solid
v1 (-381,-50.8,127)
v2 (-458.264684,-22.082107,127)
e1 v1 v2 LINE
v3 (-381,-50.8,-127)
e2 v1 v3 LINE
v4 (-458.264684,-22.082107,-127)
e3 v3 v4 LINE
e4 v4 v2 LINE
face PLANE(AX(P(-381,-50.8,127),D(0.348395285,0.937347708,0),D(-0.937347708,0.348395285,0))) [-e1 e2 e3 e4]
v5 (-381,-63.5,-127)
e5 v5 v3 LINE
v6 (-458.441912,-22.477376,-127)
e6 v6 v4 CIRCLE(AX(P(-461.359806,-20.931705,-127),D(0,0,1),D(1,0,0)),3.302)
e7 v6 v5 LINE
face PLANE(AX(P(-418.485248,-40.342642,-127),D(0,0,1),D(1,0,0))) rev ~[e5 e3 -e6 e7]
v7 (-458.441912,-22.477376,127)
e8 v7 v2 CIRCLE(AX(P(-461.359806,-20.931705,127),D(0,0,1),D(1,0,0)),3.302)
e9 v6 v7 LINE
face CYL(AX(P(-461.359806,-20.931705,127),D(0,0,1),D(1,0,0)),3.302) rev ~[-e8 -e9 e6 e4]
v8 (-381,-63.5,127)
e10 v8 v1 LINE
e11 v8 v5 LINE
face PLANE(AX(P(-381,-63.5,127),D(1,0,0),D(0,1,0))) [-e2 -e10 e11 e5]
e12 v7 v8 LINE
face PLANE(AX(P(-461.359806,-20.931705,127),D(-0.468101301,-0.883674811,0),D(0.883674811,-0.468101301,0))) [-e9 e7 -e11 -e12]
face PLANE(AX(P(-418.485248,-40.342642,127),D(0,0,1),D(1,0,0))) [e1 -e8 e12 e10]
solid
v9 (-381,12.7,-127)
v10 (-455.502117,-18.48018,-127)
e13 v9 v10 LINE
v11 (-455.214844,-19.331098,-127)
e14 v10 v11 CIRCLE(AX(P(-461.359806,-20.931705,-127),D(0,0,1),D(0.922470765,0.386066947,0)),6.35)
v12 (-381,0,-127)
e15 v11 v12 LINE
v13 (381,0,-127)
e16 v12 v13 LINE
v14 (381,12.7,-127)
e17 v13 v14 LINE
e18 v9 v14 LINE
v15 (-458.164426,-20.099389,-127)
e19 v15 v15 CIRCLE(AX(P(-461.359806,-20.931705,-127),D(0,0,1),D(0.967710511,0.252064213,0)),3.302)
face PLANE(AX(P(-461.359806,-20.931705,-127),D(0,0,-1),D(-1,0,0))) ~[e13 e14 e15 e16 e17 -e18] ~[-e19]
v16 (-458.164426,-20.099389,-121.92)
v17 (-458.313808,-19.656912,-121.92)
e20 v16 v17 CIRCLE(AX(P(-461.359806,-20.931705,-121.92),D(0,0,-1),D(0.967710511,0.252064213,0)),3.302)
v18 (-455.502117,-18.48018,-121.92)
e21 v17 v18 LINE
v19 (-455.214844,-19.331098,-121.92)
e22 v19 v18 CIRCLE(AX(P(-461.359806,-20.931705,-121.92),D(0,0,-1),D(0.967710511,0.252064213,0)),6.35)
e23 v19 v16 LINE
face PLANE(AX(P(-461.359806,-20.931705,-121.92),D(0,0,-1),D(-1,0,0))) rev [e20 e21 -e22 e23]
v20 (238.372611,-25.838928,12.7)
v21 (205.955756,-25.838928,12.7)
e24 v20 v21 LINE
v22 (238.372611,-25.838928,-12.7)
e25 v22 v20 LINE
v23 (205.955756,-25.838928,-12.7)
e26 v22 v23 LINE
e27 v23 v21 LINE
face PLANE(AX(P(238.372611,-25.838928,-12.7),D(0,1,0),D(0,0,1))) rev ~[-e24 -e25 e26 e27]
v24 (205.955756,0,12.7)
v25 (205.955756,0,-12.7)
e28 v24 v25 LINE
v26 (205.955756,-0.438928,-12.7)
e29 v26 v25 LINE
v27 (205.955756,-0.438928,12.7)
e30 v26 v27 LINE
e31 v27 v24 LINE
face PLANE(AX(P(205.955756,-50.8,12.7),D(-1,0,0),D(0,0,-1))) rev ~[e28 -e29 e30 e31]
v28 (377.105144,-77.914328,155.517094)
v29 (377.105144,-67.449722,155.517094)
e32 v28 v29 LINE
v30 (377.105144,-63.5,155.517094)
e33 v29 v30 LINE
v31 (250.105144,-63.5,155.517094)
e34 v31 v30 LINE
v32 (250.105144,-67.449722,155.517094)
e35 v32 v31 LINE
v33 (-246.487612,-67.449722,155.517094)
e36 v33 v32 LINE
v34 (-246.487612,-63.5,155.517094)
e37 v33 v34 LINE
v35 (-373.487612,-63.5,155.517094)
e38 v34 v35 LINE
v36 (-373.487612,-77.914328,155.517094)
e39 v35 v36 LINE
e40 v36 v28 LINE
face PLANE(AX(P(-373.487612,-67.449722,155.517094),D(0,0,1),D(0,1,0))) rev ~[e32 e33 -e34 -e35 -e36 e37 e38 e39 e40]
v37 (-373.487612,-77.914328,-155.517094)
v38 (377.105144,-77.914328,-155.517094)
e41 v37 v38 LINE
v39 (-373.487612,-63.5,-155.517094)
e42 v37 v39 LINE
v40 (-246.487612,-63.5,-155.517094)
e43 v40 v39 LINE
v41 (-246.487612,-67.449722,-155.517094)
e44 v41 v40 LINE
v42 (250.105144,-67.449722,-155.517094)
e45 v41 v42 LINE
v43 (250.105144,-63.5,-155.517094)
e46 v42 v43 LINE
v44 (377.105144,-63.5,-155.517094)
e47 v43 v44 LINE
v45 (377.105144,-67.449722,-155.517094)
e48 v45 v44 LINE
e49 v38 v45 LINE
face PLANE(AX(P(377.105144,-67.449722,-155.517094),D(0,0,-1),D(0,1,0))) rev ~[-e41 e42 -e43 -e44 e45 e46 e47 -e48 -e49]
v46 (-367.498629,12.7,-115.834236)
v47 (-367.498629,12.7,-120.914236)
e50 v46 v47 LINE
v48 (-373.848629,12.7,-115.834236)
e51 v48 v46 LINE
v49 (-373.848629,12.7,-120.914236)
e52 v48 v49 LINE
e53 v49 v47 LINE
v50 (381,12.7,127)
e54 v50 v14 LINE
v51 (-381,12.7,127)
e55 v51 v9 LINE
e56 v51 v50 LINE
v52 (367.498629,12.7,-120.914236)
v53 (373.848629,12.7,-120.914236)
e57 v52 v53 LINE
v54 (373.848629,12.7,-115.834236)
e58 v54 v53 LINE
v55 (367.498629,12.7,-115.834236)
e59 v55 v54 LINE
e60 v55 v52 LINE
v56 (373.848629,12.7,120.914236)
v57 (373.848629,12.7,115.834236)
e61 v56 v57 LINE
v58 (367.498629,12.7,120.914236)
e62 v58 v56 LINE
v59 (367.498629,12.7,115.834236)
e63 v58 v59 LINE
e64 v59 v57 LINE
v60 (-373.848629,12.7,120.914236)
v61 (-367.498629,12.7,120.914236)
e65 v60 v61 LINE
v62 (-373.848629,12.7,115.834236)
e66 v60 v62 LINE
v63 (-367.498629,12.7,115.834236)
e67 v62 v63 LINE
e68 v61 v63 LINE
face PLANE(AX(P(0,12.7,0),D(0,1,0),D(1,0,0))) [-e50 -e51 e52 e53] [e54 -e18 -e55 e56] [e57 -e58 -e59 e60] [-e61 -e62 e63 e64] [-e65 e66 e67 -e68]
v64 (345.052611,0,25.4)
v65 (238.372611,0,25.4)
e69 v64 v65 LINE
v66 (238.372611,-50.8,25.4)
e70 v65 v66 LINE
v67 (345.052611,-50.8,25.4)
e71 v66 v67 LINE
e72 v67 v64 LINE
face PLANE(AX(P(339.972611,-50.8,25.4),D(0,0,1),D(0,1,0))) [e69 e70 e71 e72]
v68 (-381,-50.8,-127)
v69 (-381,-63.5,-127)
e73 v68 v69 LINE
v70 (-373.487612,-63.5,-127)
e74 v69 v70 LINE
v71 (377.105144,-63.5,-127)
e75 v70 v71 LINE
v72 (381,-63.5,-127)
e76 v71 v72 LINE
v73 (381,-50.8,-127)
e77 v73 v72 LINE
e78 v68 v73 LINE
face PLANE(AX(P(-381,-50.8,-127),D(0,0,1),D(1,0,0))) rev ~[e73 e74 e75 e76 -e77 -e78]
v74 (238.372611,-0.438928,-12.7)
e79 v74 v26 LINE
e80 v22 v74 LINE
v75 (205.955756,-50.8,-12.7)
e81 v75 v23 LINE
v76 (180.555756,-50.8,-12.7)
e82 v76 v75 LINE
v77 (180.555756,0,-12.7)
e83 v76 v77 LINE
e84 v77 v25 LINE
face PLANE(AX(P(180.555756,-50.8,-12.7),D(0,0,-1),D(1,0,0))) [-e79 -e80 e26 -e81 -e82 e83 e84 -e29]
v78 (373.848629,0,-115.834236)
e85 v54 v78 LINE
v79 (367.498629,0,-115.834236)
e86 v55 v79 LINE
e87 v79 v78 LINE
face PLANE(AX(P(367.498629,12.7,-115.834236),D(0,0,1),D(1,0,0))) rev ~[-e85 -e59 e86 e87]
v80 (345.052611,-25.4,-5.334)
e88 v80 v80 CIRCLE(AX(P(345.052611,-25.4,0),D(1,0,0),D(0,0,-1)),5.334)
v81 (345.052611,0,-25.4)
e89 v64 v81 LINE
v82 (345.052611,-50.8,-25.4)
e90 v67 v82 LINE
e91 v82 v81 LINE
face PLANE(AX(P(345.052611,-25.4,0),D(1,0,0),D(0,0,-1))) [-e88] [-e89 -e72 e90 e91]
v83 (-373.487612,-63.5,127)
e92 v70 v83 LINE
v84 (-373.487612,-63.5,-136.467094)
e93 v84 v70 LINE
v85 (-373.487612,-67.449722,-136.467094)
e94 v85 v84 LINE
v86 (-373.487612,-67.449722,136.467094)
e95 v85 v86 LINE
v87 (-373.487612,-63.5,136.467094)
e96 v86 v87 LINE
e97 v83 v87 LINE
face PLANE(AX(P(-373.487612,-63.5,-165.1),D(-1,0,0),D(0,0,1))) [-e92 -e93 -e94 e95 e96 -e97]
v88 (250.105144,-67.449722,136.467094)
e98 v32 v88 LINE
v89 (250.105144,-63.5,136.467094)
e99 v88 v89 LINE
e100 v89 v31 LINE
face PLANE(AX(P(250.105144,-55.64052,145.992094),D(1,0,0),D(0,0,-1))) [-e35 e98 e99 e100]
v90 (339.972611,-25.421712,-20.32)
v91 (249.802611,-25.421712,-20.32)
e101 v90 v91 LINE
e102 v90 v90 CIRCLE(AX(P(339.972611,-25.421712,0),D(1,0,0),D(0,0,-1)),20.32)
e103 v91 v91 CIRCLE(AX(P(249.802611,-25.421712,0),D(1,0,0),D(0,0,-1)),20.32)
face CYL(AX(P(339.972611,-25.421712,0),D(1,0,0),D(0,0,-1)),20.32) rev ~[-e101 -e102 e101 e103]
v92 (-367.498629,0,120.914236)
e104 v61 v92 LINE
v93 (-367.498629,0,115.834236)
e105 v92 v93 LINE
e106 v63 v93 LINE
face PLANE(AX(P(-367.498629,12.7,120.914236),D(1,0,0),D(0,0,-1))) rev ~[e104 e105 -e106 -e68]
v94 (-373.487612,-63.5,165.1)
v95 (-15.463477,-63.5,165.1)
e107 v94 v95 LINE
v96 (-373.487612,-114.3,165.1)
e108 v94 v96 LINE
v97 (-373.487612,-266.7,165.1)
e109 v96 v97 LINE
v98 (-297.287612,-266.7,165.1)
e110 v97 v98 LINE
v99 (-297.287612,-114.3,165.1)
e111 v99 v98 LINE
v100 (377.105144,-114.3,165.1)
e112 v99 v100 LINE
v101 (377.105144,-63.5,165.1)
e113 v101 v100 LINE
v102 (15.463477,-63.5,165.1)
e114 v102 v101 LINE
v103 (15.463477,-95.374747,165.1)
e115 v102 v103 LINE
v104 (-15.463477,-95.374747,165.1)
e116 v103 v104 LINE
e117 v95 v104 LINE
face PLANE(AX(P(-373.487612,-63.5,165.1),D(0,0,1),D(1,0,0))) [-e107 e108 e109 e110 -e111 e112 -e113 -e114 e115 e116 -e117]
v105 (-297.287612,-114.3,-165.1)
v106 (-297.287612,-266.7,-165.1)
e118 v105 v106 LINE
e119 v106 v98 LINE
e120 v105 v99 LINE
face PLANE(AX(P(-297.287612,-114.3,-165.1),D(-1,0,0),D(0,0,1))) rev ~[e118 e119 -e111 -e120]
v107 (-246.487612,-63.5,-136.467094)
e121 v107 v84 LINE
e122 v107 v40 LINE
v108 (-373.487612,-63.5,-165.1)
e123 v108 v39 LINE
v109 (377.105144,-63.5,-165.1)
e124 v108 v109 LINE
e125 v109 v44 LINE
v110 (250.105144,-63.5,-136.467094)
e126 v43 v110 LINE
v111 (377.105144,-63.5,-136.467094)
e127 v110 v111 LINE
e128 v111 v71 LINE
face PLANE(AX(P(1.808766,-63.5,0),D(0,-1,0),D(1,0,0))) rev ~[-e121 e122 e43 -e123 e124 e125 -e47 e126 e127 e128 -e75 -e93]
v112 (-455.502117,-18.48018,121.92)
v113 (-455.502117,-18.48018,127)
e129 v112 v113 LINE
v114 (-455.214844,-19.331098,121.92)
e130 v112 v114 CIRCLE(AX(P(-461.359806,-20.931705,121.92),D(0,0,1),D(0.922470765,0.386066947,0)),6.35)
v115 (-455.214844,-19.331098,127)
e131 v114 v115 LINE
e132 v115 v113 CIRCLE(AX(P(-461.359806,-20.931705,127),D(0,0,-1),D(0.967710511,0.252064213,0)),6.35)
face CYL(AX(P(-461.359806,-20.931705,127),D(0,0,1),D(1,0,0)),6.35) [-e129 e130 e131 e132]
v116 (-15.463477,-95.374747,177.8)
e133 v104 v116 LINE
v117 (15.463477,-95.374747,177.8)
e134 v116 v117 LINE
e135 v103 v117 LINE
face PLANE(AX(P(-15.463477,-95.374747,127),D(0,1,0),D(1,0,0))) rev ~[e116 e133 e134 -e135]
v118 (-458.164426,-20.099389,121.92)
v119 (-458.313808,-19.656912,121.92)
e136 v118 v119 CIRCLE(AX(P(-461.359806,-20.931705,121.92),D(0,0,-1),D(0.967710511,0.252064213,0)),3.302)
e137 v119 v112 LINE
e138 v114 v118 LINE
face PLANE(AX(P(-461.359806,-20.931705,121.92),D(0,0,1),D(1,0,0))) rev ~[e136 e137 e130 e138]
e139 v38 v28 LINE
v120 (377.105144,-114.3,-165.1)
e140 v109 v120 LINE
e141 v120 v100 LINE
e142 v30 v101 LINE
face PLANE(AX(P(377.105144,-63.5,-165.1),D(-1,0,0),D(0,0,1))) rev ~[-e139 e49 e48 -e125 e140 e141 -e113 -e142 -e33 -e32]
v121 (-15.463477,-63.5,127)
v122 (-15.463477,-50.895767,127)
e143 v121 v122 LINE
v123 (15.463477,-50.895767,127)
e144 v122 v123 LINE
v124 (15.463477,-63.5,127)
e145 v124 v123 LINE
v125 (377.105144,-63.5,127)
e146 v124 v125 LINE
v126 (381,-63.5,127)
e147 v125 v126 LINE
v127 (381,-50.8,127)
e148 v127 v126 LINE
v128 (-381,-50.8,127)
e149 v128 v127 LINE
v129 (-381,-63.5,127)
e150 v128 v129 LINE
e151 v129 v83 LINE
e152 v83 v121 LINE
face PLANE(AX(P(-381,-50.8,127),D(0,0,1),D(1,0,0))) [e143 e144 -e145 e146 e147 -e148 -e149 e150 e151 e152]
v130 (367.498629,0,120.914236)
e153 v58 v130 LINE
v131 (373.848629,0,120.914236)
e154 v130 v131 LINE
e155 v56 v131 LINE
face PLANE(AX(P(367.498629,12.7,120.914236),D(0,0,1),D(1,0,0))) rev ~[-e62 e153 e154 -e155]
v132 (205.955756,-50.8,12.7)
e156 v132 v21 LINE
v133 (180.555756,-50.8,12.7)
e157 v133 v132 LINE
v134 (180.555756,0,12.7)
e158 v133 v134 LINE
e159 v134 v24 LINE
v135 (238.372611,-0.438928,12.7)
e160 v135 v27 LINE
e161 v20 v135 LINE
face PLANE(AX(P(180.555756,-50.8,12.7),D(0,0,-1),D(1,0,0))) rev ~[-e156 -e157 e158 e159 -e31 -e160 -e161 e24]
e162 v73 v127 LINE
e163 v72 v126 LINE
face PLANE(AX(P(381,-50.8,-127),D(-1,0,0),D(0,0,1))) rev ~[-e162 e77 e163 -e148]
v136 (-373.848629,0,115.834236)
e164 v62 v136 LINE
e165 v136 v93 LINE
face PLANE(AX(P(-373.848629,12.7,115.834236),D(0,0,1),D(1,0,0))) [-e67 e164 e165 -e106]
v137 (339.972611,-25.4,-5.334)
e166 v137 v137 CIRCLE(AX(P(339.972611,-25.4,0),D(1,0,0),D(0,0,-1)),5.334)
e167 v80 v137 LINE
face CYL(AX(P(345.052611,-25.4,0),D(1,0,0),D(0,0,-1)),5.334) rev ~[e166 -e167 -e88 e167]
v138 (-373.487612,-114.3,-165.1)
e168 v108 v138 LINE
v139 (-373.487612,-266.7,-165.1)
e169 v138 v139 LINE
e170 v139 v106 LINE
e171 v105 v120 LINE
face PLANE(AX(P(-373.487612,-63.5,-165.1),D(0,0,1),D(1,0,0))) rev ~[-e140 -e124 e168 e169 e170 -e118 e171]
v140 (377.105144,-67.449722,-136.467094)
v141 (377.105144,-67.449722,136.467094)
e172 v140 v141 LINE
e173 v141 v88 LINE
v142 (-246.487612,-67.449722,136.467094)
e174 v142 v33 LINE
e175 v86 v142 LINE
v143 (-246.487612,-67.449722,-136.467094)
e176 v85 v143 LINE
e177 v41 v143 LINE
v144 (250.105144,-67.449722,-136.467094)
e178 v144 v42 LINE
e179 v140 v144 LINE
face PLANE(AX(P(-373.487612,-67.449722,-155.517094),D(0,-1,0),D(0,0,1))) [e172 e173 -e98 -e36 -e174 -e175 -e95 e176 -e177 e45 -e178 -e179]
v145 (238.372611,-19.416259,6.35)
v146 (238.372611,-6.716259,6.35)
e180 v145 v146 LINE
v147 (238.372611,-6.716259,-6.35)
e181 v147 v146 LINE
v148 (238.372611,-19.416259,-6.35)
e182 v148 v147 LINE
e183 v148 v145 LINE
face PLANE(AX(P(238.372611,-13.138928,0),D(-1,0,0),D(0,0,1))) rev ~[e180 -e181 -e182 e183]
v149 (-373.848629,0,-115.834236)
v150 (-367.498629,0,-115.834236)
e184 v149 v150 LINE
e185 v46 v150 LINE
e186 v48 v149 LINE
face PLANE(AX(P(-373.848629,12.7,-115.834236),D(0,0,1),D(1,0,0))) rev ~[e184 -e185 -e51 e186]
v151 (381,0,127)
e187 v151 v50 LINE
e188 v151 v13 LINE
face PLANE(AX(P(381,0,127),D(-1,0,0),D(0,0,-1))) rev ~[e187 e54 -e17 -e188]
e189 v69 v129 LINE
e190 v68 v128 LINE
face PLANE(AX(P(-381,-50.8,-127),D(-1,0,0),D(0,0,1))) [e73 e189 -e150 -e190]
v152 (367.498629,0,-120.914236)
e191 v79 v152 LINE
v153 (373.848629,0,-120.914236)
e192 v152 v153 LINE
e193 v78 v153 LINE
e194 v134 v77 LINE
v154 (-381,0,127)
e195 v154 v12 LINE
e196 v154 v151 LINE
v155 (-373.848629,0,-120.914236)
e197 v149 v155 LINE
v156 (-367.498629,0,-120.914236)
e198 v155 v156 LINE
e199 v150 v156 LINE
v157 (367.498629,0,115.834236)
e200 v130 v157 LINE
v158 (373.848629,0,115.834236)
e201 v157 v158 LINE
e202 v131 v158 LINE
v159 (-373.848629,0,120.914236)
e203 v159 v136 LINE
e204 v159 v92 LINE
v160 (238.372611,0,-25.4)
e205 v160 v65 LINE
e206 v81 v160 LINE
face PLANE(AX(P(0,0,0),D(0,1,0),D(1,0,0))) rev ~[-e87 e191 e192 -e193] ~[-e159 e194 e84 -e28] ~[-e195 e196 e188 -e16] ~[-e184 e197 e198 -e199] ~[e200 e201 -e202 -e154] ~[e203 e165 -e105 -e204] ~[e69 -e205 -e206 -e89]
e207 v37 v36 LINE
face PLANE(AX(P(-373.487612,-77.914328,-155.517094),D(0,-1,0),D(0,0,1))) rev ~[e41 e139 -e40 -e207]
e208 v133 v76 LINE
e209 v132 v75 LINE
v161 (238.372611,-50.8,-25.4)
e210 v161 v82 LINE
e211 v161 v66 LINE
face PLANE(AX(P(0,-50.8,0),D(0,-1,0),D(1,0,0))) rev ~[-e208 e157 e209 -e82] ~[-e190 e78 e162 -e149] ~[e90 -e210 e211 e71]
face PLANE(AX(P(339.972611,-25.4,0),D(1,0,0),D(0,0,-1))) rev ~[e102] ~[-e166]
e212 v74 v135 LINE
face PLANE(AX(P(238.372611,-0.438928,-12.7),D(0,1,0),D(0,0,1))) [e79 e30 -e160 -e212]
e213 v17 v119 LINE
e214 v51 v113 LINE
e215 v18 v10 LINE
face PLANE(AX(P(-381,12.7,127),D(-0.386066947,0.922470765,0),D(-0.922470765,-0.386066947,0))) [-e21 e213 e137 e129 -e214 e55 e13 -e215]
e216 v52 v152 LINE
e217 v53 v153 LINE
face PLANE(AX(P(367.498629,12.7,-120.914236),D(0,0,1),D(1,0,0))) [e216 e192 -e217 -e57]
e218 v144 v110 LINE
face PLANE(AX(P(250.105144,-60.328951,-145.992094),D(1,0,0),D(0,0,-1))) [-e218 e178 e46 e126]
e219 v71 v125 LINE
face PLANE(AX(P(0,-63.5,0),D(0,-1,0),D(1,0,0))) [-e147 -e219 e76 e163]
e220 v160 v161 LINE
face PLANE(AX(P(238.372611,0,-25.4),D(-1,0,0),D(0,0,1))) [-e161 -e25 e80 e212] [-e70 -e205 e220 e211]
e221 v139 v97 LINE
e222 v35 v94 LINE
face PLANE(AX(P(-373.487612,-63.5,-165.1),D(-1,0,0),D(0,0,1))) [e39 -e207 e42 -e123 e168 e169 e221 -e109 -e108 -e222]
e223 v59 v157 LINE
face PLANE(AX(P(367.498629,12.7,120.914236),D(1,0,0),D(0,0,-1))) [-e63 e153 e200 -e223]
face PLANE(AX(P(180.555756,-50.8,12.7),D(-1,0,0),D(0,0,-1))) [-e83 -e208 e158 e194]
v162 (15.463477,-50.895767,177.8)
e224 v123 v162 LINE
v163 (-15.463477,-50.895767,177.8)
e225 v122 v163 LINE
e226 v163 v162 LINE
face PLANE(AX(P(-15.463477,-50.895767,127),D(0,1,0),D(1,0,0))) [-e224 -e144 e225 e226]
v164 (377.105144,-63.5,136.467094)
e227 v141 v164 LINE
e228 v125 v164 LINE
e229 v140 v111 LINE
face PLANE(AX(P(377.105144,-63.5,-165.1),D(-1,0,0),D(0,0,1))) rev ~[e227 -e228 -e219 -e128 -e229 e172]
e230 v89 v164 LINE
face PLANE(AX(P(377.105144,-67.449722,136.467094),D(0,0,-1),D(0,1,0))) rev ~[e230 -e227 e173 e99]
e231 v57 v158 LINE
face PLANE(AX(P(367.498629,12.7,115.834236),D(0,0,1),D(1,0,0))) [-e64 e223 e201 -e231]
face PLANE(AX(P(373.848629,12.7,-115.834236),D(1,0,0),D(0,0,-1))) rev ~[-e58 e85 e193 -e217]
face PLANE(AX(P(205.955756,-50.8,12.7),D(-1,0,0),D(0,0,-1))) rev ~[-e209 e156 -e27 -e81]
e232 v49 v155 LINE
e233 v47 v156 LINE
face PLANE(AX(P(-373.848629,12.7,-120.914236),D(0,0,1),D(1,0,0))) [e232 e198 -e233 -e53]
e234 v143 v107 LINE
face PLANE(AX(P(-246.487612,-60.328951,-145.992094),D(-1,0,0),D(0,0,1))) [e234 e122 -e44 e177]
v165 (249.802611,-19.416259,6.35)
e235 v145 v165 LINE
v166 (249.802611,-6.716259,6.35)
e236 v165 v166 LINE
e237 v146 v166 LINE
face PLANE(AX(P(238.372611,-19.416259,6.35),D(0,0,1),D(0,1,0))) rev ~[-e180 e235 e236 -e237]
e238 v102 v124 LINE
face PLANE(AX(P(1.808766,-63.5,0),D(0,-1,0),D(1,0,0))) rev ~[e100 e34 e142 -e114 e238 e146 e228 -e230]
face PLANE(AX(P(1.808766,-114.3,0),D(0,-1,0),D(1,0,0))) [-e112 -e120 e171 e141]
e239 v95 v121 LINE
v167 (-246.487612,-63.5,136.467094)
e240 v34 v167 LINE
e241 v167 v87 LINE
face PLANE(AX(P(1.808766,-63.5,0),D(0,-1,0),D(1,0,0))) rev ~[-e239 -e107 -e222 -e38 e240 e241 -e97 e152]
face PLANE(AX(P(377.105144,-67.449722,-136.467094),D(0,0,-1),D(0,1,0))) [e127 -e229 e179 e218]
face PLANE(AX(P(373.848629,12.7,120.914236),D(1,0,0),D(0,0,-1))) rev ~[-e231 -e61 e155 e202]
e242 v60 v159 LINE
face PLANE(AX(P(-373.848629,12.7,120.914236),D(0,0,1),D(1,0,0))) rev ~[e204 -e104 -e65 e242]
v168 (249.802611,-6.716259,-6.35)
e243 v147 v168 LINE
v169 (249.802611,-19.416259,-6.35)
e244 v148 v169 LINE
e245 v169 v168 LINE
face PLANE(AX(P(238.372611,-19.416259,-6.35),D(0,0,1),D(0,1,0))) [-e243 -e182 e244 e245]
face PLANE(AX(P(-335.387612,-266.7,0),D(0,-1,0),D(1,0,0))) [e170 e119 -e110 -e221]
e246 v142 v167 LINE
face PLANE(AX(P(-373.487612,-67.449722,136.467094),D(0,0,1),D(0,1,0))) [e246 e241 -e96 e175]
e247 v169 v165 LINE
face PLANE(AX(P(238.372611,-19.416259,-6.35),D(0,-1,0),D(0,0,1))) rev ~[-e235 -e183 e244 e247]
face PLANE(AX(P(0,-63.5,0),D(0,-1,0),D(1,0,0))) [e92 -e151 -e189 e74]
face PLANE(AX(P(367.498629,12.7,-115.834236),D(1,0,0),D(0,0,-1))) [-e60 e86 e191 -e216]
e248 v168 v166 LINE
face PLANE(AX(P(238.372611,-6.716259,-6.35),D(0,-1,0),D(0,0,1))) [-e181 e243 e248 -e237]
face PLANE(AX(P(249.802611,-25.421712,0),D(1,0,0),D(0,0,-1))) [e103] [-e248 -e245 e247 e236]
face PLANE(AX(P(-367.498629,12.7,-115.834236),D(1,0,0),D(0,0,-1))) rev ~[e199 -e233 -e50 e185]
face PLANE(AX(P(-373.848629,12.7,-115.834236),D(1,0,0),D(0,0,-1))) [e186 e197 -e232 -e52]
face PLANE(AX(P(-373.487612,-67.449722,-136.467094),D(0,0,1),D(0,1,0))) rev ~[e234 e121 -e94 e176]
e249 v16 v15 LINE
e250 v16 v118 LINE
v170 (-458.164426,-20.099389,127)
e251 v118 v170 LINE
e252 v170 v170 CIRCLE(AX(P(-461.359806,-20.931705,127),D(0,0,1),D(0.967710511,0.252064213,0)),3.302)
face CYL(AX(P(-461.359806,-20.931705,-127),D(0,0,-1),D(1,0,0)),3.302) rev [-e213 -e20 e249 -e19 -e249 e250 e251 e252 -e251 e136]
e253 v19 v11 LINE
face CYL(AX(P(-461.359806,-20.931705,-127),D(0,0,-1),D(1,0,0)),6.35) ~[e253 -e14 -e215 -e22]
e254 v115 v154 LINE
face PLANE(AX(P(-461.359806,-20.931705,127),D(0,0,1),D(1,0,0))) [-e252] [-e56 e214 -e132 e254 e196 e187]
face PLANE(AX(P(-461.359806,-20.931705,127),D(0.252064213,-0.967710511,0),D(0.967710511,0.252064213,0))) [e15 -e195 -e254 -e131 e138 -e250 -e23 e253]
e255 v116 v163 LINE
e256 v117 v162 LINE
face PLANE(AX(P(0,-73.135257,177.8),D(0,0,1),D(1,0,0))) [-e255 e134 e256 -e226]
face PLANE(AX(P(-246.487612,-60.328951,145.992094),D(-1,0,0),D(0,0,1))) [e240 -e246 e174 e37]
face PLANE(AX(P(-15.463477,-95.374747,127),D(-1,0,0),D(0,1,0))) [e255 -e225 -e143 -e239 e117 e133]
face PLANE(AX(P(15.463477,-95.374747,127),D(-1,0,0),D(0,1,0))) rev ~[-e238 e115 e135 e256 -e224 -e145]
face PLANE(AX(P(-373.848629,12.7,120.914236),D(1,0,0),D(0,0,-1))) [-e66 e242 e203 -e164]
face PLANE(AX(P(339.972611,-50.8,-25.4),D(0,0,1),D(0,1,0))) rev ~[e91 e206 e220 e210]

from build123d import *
from build123d.topology import SkipClean

# Parameters (mm, degrees)
SKETCH1_W            = 762
SKETCH1_H            = 254
BOSS_EXTRUDE1_DEPTH  = 12.7
BOSS_EXTRUDE2_DEPTH  = 254
SKETCH9_W            = 6.35
SKETCH9_H            = 5.08
CUT_EXTRUDE1_DEPTH   = 480.700909137
SKETCH5_R            = 6.35
SKETCH5_R_2          = 3.302
BOSS_EXTRUDE8_DEPTH  = 5.08
SKETCH13_W           = 101.6
SKETCH13_H           = 50.8
BOSS_EXTRUDE10_DEPTH = 50.8
SKETCH15_R           = 20.32
CUT_EXTRUDE3_DEPTH   = 90.17
SKETCH16_W           = 50.8
SKETCH16_H           = 50.8
BOSS_EXTRUDE11_DEPTH = 5.08
CUT_EXTRUDE4_REACH   = 826.192
SKETCH17_R           = 5.334
CUT_EXTRUDE6_REACH   = 721.209
SKETCH19_W           = 12.7
SKETCH19_H           = 12.7
SKETCH20_W           = 762
SKETCH20_H           = 254
BOSS_EXTRUDE12_DEPTH = 12.7
BOSS_EXTRUDE15_DEPTH = 254
SKETCH23_R           = 3.302
CUT_EXTRUDE7_DEPTH   = 537.004396119
SKETCH24_W           = 750.592755811
SKETCH24_H           = 330.2
BOSS_EXTRUDE16_DEPTH = 50.8
SKETCH28_W           = 76.2
SKETCH28_H           = 330.2
BOSS_EXTRUDE17_DEPTH = 152.4
BOSS_EXTRUDE9_START  = -5.08
SKETCH12_R           = 6.35
SKETCH12_R_2         = 3.302
BOSS_EXTRUDE9_DEPTH  = 5.08
SKETCH29_W           = 25.4
SKETCH29_H           = 25.4
BOSS_EXTRUDE18_DEPTH = 50.8
SKETCH30_W           = 25.4
SKETCH30_H           = 25.4
BOSS_EXTRUDE19_DEPTH = 50.8
SKETCH31_W           = 30.926953994
SKETCH31_H           = 44.4789806
BOSS_EXTRUDE20_DEPTH = 50.8
SKETCH25_W           = 311.03418717
SKETCH25_H           = 10.464606508
CUT_EXTRUDE8_DEPTH   = 820.751966299
SKETCH32_W           = 19.05
SKETCH32_H           = 14.241541755
CUT_EXTRUDE9_DEPTH   = 127
SKETCH33_W           = 19.05
SKETCH33_H           = 23.618402859
SKETCH33_H_2         = 14.241541755
CUT_EXTRUDE10_DEPTH  = 127


with BuildPart() as part:
    # Sketch1 → Boss-Extrude1 (new body)
    with BuildSketch(Plane(origin=(0, 0, 0), x_dir=(1, 0, 0), z_dir=(0, 1, 0))):
        Rectangle(SKETCH1_W, SKETCH1_H)
    extrude(amount=BOSS_EXTRUDE1_DEPTH)

    # Sketch2 → Boss-Extrude2 (add)
    with BuildSketch(Plane.XY.offset(127)):
        Polygon((-381, 12.7), (-461.359806033, -20.931705337), (-381, 0), align=None)
    extrude(amount=-BOSS_EXTRUDE2_DEPTH)

    # Sketch9 → Cut-Extrude1 (cut, through all)
    with BuildSketch(Plane(origin=(0, 12.7, 0), x_dir=(1, 0, 0), z_dir=(0, 1, 0))):
        with Locations((370.67362949, -118.374235509)):
            Rectangle(SKETCH9_W, SKETCH9_H)
        with Locations((370.67362949, 118.374235509)):
            Rectangle(SKETCH9_W, SKETCH9_H)
        with Locations((-370.67362949, 118.374235509)):
            Rectangle(SKETCH9_W, SKETCH9_H)
        with Locations((-370.67362949, -118.374235509)):
            Rectangle(SKETCH9_W, SKETCH9_H)
    extrude(amount=-CUT_EXTRUDE1_DEPTH, mode=Mode.SUBTRACT)

    # Sketch5 → Boss-Extrude8 (add)
    with BuildSketch(Plane.XY.offset(127)):
        with Locations((-461.359806033, -20.931705337)):
            Circle(SKETCH5_R)
        with Locations((-461.359806033, -20.931705337)):
            Circle(SKETCH5_R_2, mode=Mode.SUBTRACT)
    boss_extrude8 = extrude(amount=-BOSS_EXTRUDE8_DEPTH)

    # Sketch13 → Boss-Extrude10 (add)
    with BuildSketch(Plane.XZ):
        with Locations((289.172611065, 0)):
            Rectangle(SKETCH13_W, SKETCH13_H)
    extrude(amount=BOSS_EXTRUDE10_DEPTH)

    # Sketch15 → Cut-Extrude3 (cut)
    with BuildSketch(Plane(origin=(339.972611065, 0, 0), x_dir=(0, 0, -1), z_dir=(1, 0, 0))):
        with Locations((0, -25.42171176)):
            Circle(SKETCH15_R)
    extrude(amount=-CUT_EXTRUDE3_DEPTH, mode=Mode.SUBTRACT)

    # Sketch16 → Boss-Extrude11 (add)
    with BuildSketch(Plane(origin=(339.972611065, 0, 0), x_dir=(0, 0, -1), z_dir=(1, 0, 0))):
        with Locations((0, -25.4)):
            Rectangle(SKETCH16_W, SKETCH16_H)
    extrude(amount=BOSS_EXTRUDE11_DEPTH)

    # Sketch17 → Cut-Extrude4 (cut, up to next)
    with BuildSketch(Plane(origin=(345.052611065, 0, 0), x_dir=(0, 0, -1), z_dir=(1, 0, 0)), mode=Mode.PRIVATE) as cut_extrude4_sk1:
        with Locations((0, -25.4)):
            Circle(SKETCH17_R)
    cut_extrude4_tool1 = extrude(cut_extrude4_sk1.sketch, amount=-CUT_EXTRUDE4_REACH, mode=Mode.PRIVATE) & part.part
    add(cut_extrude4_tool1.solids().sort_by_distance((345.052611, -25.4, 0))[0], mode=Mode.SUBTRACT)

    # Sketch19 → Cut-Extrude6 (cut, up to next)
    with BuildSketch(Plane.ZY.offset(-238.372611065), mode=Mode.PRIVATE) as cut_extrude6_sk1:
        with Locations((0, -13.066258938)):
            Rectangle(SKETCH19_W, SKETCH19_H)
    cut_extrude6_tool1 = extrude(cut_extrude6_sk1.sketch, amount=-CUT_EXTRUDE6_REACH, mode=Mode.PRIVATE) & part.part
    add(cut_extrude6_tool1.solids().sort_by_distance((238.372611, -13.066259, 0))[0], mode=Mode.SUBTRACT)

    # Sketch20 → Boss-Extrude12 (add)
    with BuildSketch(Plane.XZ.offset(50.8)):
        Rectangle(SKETCH20_W, SKETCH20_H)
    extrude(amount=BOSS_EXTRUDE12_DEPTH)

    # Mirror1: Boss-Extrude8 across plane
    add(boss_extrude8.mirror(Plane.XY))


with BuildPart() as body_2:
    # Sketch22 → Boss-Extrude15 (new body)
    with BuildSketch(Plane.XY.offset(127)):
        Polygon((-381, -50.8), (-461.359806033, -20.931705337), (-381, -63.5), align=None)
    extrude(amount=-BOSS_EXTRUDE15_DEPTH)


with BuildPart() as cut_extrude7_tool:
    # Sketch23 → Cut-Extrude7 (new, through all)
    with SkipClean():  # the faces are left unmerged after this step: merging them gives an invalid solid
        with BuildSketch(Plane.XY.offset(127)):
            with Locations((-461.359806033, -20.931705337)):
                Circle(SKETCH23_R)
        extrude(amount=-CUT_EXTRUDE7_DEPTH)


with BuildPart() as part_1:
    with SkipClean():  # the faces are left unmerged after this step: merging them gives an invalid solid
        add(part.part)

        # Cut-Extrude7: cut by cut_extrude7_tool
        add(cut_extrude7_tool.part, mode=Mode.SUBTRACT)

    # Sketch24 → Boss-Extrude16 (add)
    with SkipClean():  # the faces are left unmerged after this step: merging them gives an invalid solid
        with BuildSketch(Plane.XZ.offset(63.5)):
            with Locations((1.808766177, 0)):
                Rectangle(SKETCH24_W, SKETCH24_H)
        extrude(amount=BOSS_EXTRUDE16_DEPTH)

    # Sketch28 → Boss-Extrude17 (add)
    with SkipClean():  # the faces are left unmerged after this step: merging them gives an invalid solid
        with BuildSketch(Plane.XZ.offset(114.3)):
            with Locations((-335.387611728, 0)):
                Rectangle(SKETCH28_W, SKETCH28_H)
        extrude(amount=BOSS_EXTRUDE17_DEPTH)

    # Sketch12 → Boss-Extrude9 (add)
    with BuildSketch(Plane(origin=(0, 0, -127), x_dir=(-1, 0, 0), z_dir=(0, 0, -1)).offset(BOSS_EXTRUDE9_START)):
        with Locations((461.359806033, -20.931705337)):
            Circle(SKETCH12_R)
        with Locations(Location((461.359806033, -20.931705337, 0), (0, 0, 180))):
            Circle(SKETCH12_R_2, mode=Mode.SUBTRACT)
    extrude(amount=BOSS_EXTRUDE9_DEPTH)

    # Sketch29 → Boss-Extrude18 (add)
    with BuildSketch(Plane.ZY.offset(-238.372611065)):
        with Locations((0, -13.138927811)):
            Rectangle(SKETCH29_W, SKETCH29_H)
    extrude(amount=BOSS_EXTRUDE18_DEPTH)

    # Sketch30 → Boss-Extrude19 (add)
    with BuildSketch(Plane(origin=(0, -50.8, 0), x_dir=(1, 0, 0), z_dir=(0, 1, 0))):
        with Locations((193.255755509, 0)):
            Rectangle(SKETCH30_W, SKETCH30_H)
    extrude(amount=BOSS_EXTRUDE19_DEPTH)

    # Sketch31 → Boss-Extrude20 (add)
    with BuildSketch(Plane.XY.offset(127)):
        with Locations((0, -73.135256809)):
            Rectangle(SKETCH31_W, SKETCH31_H)
    extrude(amount=BOSS_EXTRUDE20_DEPTH)

    # Sketch25 → Cut-Extrude8 (cut, through all)
    with BuildSketch(Plane.ZY.offset(373.487611728)):
        with Locations((0, -72.682025016)):
            Rectangle(SKETCH25_W, SKETCH25_H)
    extrude(amount=-CUT_EXTRUDE8_DEPTH, mode=Mode.SUBTRACT)

    # Sketch32 → Cut-Extrude9 (cut)
    with BuildSketch(Plane.ZY.offset(373.487611728)):
        with Locations((145.992093585, -60.328950885)):
            Rectangle(SKETCH32_W, SKETCH32_H)
        with Locations((-145.992093585, -60.328950885)):
            Rectangle(SKETCH32_W, SKETCH32_H)
    extrude(amount=-CUT_EXTRUDE9_DEPTH, mode=Mode.SUBTRACT)

    # Sketch33 → Cut-Extrude10 (cut)
    with BuildSketch(Plane(origin=(377.105144083, 0, 0), x_dir=(0, 0, -1), z_dir=(1, 0, 0))):
        with Locations((-145.992093585, -55.640520333)):
            Rectangle(SKETCH33_W, SKETCH33_H)
        with Locations((145.992093585, -60.328950885)):
            Rectangle(SKETCH33_W, SKETCH33_H_2)
    extrude(amount=-CUT_EXTRUDE10_DEPTH, mode=Mode.SUBTRACT)


with BuildPart() as body_2_1:
    with SkipClean():  # the faces are left unmerged after this step: merging them gives an invalid solid
        add(body_2.part)

        # Cut-Extrude7: cut by cut_extrude7_tool
        add(cut_extrude7_tool.part, mode=Mode.SUBTRACT)


solid = Compound([part_1.part, body_2_1.part])
